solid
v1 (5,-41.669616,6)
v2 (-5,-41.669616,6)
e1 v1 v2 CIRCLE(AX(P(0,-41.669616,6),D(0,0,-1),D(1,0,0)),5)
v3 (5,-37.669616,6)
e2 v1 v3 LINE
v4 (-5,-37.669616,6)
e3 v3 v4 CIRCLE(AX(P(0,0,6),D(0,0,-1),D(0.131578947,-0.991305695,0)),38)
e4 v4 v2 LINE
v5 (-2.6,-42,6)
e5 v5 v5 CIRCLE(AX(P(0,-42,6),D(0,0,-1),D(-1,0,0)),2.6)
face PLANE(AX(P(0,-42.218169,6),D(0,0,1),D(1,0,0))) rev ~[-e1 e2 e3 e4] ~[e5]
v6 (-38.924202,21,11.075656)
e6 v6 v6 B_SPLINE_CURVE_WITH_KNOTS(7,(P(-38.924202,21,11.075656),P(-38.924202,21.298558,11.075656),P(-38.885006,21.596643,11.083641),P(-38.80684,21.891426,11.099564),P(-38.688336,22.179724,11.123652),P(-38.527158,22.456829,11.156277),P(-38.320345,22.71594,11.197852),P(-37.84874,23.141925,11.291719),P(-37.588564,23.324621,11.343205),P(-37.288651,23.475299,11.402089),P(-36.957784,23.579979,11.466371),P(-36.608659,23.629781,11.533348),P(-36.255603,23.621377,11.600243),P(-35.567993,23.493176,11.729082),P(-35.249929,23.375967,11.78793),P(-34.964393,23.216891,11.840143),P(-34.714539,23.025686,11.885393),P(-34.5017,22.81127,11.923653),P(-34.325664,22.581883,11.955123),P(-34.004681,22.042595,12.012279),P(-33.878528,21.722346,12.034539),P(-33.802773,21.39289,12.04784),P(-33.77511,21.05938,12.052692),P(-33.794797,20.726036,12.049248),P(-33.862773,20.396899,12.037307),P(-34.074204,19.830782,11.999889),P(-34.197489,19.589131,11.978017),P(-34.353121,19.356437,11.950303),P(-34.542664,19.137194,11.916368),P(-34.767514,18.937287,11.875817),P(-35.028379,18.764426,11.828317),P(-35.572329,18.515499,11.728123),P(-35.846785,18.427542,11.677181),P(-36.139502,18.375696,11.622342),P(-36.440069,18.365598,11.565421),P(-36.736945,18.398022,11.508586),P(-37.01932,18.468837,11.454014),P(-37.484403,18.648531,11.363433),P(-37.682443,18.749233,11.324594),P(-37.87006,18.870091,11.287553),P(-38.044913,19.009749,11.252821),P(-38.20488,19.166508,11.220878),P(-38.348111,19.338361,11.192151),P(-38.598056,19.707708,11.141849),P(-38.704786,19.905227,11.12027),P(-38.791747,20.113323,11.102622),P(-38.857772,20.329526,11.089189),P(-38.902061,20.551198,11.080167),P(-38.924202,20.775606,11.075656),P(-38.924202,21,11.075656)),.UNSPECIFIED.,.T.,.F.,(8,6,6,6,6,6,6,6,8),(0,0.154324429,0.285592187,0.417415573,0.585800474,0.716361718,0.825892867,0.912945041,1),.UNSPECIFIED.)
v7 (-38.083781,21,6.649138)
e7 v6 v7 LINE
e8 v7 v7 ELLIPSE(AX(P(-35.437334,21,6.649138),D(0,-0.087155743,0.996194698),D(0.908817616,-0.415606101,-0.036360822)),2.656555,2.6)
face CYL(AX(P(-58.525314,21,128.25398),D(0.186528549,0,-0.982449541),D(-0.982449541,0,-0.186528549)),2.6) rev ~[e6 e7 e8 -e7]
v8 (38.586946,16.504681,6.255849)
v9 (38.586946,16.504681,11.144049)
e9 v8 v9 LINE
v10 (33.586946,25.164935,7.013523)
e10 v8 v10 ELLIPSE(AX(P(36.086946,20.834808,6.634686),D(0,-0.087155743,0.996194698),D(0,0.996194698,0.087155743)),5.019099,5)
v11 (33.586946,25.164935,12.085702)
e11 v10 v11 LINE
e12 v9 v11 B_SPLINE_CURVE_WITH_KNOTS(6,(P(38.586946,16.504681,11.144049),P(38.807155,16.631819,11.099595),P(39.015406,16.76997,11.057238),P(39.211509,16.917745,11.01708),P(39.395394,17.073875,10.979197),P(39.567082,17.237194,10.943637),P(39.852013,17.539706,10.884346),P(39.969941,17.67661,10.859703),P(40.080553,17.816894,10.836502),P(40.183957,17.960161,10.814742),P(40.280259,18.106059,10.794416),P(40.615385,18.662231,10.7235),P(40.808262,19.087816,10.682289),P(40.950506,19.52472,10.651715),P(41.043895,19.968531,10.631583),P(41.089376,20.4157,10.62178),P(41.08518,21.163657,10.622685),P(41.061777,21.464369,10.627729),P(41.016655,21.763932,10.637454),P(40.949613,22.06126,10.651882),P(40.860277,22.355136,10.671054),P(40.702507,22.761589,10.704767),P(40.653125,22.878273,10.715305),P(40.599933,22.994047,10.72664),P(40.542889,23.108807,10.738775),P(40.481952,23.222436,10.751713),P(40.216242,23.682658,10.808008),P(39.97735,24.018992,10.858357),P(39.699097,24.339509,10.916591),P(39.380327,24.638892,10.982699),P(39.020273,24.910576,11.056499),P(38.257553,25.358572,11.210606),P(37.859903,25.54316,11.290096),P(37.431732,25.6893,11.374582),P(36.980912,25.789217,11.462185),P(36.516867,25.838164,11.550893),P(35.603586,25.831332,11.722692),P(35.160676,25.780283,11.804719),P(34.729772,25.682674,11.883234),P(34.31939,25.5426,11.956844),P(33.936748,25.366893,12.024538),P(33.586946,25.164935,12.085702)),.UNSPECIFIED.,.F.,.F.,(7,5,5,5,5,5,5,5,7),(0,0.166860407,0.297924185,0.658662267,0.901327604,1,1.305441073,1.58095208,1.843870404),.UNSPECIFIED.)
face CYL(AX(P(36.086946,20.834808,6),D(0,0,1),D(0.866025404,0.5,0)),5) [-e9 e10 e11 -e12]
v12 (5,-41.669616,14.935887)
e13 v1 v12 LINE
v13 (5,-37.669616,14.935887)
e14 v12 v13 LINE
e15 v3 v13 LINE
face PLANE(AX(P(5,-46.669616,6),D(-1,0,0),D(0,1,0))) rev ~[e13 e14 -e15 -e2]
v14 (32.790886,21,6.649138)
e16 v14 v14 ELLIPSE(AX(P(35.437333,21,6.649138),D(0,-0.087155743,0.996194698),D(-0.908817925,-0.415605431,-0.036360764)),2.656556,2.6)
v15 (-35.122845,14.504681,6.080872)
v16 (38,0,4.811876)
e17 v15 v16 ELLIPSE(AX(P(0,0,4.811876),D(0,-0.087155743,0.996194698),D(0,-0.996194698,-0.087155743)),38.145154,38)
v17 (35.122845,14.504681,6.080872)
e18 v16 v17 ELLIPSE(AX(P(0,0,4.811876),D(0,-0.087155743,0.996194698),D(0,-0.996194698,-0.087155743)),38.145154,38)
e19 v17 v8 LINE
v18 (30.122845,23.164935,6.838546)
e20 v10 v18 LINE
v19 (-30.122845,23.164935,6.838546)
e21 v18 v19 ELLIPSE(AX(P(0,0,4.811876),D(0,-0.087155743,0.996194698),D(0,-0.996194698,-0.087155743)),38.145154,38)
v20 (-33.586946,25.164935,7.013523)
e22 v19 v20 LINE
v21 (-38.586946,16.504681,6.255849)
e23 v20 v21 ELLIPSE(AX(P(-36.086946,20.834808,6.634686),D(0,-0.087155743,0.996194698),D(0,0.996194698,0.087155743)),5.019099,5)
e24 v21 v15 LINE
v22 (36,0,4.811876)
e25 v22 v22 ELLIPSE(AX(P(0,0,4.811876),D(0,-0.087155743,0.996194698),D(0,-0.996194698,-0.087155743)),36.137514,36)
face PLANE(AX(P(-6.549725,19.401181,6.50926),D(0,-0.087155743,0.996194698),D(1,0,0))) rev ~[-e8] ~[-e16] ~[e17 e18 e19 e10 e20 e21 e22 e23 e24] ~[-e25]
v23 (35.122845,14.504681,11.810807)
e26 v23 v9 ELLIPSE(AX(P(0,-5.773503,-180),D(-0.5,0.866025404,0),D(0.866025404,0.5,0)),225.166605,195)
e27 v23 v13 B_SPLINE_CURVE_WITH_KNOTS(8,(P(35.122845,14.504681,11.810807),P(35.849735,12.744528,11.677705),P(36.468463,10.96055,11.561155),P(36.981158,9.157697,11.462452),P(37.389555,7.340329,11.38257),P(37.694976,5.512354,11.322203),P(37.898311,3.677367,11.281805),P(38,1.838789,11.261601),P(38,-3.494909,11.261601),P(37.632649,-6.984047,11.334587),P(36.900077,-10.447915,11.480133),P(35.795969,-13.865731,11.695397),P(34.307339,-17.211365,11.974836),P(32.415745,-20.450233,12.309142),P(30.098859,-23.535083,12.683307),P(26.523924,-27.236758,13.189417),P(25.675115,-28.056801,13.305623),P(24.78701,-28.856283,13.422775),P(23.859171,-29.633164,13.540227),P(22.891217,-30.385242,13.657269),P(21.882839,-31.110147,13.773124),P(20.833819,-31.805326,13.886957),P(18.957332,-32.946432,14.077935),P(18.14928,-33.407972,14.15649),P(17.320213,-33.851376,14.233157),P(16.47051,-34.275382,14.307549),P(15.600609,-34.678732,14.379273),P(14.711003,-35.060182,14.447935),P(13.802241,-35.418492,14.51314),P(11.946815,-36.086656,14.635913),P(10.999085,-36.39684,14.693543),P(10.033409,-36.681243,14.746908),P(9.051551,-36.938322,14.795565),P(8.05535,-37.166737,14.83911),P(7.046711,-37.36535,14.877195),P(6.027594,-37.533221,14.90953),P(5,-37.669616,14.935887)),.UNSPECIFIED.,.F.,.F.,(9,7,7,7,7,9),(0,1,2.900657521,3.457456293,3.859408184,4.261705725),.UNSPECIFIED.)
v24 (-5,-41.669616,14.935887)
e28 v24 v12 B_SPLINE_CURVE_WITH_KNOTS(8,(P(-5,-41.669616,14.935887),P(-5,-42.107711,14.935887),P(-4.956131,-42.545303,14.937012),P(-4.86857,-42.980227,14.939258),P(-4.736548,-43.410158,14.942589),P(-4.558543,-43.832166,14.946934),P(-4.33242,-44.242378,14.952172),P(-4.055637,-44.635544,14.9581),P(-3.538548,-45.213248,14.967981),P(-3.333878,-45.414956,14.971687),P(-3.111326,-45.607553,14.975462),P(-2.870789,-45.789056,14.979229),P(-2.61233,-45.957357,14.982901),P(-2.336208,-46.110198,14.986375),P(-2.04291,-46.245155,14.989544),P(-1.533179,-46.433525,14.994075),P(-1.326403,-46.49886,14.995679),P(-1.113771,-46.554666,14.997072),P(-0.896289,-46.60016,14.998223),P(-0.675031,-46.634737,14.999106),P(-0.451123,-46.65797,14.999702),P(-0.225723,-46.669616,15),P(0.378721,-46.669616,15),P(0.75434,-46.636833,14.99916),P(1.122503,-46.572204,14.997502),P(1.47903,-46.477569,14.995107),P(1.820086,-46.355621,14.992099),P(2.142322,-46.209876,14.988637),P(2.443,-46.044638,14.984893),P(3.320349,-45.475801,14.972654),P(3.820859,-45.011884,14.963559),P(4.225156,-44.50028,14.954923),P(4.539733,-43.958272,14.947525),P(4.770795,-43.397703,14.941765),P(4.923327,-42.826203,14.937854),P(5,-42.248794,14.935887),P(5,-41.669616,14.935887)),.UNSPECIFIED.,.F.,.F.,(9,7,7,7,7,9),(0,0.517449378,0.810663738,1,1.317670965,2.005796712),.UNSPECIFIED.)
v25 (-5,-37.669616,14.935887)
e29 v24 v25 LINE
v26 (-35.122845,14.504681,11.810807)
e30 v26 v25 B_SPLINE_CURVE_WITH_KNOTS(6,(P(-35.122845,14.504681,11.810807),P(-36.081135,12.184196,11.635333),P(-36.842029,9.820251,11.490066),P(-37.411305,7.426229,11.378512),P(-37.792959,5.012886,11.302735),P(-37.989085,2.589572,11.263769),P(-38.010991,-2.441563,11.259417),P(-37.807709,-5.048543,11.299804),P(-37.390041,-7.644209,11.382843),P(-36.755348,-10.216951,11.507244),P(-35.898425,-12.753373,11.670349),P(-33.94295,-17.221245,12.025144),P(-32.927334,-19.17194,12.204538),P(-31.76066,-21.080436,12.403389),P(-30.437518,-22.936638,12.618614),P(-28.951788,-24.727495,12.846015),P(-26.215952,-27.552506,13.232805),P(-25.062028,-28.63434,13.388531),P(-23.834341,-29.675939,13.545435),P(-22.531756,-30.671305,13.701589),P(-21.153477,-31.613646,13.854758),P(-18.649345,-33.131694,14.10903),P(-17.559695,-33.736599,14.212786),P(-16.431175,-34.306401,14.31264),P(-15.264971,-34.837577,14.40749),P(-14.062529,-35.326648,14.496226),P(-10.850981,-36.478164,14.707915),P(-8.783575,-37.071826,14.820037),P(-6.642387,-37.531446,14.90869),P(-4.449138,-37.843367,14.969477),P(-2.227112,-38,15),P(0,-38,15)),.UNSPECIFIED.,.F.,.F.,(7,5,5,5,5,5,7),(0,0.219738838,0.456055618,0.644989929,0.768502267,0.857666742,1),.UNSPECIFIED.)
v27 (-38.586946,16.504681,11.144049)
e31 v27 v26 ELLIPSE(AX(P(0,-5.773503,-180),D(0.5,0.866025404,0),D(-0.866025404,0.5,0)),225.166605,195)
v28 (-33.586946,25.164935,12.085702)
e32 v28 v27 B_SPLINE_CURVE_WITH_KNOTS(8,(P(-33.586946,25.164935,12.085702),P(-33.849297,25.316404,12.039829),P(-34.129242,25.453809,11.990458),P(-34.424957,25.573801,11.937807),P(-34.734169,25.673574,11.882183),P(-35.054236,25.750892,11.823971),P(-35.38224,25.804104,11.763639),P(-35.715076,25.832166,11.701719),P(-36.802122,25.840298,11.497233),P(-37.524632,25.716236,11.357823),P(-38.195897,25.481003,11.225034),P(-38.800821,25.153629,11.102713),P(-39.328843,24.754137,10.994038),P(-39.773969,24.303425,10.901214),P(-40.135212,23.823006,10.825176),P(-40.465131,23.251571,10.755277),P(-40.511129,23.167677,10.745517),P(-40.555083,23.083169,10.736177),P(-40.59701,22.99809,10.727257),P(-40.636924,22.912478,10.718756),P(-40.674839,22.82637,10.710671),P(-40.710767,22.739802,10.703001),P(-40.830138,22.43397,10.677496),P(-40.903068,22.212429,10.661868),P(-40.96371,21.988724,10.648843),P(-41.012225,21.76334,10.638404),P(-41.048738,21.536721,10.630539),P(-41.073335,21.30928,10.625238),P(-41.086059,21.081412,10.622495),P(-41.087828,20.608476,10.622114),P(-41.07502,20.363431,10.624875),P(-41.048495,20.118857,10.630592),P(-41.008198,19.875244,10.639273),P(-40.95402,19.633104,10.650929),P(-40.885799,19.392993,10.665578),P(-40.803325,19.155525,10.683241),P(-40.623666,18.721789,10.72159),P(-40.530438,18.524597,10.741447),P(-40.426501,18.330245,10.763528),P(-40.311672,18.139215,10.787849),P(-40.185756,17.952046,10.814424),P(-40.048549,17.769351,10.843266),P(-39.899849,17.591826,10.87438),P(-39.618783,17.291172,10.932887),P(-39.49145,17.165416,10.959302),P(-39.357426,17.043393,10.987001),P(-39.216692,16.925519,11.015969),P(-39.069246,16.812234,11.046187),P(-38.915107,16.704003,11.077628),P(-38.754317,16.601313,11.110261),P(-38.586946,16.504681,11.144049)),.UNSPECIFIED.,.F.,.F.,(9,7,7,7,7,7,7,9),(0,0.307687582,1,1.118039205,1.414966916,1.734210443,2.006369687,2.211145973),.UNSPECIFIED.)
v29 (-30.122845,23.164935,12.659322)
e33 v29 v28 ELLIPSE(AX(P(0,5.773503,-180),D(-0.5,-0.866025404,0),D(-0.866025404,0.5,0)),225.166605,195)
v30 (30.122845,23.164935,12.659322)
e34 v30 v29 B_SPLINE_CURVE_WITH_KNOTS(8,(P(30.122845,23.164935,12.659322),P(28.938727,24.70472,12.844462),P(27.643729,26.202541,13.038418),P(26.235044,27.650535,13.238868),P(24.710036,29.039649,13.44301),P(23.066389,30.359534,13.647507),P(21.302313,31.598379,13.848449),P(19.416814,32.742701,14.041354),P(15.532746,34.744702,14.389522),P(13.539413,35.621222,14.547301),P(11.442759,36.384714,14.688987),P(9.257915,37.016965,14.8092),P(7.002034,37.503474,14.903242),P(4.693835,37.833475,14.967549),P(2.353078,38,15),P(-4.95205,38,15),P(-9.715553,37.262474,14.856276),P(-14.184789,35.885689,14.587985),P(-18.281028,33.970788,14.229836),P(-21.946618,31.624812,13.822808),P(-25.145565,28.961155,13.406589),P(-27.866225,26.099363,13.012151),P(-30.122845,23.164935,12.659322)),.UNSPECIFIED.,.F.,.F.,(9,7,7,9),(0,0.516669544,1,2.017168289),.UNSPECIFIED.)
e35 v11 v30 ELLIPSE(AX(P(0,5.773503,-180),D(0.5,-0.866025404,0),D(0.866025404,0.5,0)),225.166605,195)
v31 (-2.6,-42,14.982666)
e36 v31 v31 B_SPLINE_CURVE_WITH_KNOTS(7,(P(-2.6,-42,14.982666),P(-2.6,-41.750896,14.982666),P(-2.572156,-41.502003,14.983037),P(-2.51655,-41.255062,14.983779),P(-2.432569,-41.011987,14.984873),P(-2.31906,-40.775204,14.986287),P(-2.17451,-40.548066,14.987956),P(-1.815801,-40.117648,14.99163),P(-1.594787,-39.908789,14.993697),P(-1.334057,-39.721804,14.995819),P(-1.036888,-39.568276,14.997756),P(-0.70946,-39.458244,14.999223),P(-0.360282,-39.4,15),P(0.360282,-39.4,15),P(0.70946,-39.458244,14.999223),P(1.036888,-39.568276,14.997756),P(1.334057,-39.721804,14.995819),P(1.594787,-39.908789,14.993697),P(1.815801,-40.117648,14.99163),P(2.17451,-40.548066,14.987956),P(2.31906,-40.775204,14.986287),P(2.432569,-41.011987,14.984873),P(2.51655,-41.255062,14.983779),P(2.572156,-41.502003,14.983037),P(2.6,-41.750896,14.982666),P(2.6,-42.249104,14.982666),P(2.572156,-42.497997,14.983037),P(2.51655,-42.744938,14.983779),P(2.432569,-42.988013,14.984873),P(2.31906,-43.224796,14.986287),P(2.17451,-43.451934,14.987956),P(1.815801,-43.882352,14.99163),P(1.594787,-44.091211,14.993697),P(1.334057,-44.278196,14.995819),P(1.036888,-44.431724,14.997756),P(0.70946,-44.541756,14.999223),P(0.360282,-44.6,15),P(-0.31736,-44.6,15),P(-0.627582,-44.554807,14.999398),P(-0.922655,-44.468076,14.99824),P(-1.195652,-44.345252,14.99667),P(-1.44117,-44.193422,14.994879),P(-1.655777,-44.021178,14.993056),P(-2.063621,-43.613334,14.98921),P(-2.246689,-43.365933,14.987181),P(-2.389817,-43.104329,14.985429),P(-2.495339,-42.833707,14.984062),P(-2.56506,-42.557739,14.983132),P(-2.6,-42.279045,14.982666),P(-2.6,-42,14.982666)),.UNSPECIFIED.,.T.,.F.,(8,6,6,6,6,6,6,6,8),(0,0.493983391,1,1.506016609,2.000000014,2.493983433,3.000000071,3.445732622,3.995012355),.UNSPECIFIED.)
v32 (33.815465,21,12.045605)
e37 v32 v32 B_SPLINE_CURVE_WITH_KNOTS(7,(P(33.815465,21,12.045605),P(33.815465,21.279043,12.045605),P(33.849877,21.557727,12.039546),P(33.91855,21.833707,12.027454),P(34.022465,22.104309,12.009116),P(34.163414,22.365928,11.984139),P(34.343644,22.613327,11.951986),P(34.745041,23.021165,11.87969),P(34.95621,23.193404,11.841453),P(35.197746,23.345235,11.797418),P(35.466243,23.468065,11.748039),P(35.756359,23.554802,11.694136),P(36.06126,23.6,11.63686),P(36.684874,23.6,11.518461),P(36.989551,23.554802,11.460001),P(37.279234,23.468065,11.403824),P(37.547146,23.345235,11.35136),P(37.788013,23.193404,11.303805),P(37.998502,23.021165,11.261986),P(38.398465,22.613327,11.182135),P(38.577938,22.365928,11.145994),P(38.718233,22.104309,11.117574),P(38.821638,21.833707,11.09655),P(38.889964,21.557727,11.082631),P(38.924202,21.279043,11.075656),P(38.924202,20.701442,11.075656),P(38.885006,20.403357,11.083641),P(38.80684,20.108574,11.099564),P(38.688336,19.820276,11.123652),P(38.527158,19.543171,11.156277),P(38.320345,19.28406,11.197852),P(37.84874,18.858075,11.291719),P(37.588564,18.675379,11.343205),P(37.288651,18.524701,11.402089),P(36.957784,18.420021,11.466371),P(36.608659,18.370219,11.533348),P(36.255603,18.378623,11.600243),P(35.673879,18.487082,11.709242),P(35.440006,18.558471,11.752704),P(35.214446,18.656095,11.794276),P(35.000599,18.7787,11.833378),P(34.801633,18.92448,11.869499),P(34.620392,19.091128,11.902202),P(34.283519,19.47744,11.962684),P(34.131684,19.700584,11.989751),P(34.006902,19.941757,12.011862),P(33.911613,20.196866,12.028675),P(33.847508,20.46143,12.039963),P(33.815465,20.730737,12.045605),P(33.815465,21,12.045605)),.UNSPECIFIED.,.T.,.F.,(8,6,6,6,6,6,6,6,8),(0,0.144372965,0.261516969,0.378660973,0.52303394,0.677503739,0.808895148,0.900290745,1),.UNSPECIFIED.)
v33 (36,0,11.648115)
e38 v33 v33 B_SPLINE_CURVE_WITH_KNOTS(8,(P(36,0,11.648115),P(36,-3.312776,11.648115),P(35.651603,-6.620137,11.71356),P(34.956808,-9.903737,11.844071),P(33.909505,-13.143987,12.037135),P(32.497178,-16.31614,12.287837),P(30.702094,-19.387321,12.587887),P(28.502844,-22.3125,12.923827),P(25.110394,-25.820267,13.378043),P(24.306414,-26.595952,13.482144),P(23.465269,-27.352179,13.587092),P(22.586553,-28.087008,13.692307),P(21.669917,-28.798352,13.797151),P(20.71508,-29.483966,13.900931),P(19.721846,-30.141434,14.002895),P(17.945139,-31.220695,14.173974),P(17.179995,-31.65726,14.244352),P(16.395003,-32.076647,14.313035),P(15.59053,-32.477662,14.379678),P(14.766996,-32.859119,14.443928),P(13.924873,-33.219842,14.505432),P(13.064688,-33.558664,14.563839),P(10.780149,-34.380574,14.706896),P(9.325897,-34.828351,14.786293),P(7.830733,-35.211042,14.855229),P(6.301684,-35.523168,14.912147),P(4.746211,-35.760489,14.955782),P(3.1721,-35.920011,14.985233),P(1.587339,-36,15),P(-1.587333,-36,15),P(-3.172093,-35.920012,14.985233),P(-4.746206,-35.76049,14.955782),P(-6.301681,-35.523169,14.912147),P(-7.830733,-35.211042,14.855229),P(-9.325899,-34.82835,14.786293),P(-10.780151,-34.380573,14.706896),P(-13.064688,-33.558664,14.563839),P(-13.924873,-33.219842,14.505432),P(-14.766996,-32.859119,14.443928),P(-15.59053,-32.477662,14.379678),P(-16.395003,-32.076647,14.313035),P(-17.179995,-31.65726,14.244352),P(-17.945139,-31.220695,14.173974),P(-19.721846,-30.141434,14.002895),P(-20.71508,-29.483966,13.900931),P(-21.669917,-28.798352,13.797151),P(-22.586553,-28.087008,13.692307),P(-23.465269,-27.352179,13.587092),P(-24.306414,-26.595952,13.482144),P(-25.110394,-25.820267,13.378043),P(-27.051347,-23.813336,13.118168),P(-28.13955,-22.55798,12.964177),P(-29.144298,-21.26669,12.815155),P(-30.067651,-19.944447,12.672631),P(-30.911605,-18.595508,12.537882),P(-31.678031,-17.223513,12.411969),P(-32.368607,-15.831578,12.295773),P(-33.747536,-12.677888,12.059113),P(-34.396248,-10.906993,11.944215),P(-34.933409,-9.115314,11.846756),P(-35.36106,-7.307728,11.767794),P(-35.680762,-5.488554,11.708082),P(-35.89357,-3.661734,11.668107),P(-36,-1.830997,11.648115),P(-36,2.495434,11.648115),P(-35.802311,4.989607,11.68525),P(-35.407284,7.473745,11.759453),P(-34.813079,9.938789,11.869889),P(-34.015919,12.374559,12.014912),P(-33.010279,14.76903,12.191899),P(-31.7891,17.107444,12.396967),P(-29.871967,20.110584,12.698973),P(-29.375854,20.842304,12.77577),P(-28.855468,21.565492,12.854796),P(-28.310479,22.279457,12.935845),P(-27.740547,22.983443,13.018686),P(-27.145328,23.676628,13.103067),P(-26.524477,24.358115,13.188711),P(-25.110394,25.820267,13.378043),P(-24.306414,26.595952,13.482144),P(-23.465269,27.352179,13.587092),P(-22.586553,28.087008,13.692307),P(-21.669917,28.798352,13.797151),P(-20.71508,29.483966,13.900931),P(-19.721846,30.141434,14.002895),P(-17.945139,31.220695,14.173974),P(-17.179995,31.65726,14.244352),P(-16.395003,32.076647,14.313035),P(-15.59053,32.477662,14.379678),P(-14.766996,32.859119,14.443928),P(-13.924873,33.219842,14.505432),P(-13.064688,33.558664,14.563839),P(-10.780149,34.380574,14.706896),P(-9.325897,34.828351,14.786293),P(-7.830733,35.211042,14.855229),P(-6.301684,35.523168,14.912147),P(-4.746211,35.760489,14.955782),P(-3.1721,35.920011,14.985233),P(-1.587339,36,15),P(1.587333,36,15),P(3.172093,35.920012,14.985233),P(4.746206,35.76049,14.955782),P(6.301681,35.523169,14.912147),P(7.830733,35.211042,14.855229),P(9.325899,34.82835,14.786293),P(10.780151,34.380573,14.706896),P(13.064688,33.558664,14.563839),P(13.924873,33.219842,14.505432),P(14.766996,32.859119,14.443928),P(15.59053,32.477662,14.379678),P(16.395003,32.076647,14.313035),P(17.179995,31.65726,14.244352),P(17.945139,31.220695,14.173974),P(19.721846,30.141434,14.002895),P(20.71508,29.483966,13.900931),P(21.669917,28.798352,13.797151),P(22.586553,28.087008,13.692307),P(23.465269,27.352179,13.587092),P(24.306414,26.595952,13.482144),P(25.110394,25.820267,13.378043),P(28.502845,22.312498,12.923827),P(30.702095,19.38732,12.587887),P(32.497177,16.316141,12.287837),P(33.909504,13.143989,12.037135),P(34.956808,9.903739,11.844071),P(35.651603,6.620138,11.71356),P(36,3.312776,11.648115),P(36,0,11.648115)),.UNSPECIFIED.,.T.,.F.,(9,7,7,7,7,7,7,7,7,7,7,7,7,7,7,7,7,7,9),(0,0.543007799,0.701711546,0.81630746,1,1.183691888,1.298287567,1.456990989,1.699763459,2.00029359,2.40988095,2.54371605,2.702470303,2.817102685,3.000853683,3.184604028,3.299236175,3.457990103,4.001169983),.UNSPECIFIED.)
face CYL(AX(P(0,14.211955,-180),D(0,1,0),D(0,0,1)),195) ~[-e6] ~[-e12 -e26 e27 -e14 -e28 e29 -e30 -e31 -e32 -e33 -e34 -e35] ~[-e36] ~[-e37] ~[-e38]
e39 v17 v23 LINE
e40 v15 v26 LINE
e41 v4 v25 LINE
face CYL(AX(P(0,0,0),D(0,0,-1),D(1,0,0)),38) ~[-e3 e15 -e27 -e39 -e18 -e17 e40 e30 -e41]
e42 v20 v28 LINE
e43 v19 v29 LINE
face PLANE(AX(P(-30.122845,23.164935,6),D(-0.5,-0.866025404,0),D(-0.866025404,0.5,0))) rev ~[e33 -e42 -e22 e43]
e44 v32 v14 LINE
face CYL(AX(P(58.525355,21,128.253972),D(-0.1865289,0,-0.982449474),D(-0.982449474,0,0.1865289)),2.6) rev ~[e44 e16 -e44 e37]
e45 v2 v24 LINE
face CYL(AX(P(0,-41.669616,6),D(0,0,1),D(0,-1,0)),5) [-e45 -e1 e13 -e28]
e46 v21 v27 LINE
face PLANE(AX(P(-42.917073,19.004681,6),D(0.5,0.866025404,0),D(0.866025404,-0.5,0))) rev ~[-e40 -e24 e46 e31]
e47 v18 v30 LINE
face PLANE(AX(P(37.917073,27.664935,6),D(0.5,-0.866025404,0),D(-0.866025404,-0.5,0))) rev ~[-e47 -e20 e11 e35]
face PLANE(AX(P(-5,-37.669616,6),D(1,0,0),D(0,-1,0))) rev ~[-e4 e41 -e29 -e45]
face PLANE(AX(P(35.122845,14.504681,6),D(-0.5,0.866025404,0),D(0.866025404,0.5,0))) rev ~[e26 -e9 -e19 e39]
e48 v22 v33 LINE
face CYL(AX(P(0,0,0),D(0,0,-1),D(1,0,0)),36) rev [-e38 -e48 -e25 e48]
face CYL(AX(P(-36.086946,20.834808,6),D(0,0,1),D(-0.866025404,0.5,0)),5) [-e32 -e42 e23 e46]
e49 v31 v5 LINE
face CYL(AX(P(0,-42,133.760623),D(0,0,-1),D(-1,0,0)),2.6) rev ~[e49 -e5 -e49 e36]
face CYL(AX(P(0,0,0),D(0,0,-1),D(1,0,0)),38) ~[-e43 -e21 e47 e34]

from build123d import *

# Parameters (mm, degrees)
SKETCH_1_R                              = 38
SKETCH_1_R_2                            = 36
EXTRUDE_310_DEPTH                       = 15
EXTRUDE_START                           = -9
EXTRUDE_4_DEPTH                         = 9
FILLET_3_RADIUS                         = 5
FILLET_3_LENGTH                         = 9
PATTERN_CIRCULAR_4_COUNT                = 3
FILLET_3_OF_PATTERN_CIRCULAR_4_2_RADIUS = 5
FILLET_3_OF_PATTERN_CIRCULAR_4_2_LENGTH = 9
FILLET_3_OF_PATTERN_CIRCULAR_4_3_RADIUS = 5
FILLET_3_OF_PATTERN_CIRCULAR_4_3_LENGTH = 9
SKETCH_6_W                              = 176.950469939
SKETCH_6_H                              = 123.439451547
CUT_REVOLVE_861_ANGLE                   = 5
SKETCH_14_W                             = 84.084463922
SKETCH_14_H                             = 246.249240822
MM_7_D                                  = 5.2
MM_7_ON_FACE_2_D                        = 5.2
MM_7_ON_FACE_3_D                        = 5.2


with BuildPart() as part:
    # 草图1 → Extrude 310 (new body)
    with BuildSketch(Plane.XY):
        Circle(SKETCH_1_R)
        Circle(SKETCH_1_R_2, mode=Mode.SUBTRACT)
    extrude(amount=EXTRUDE_310_DEPTH)

    # 草图11 → 凸台-拉伸4 (add)
    with BuildSketch(Plane.XY.offset(15).offset(EXTRUDE_START)):
        with BuildLine():
            Line((-5, -37.669616404), (-5, -46.669616404))
            Line((-5, -46.669616404), (5, -46.669616404))
            Line((5, -46.669616404), (5, -37.669616404))
            ThreePointArc((5, -37.669616404), (0, -38), (-5, -37.669616404))
        make_face()
    extrude_4 = extrude(amount=EXTRUDE_4_DEPTH)

    # 圆角3: full round fillet: the end face becomes a half cylinder, R = half its width
    fillet_3_face = Plane((0, -46.669616404, 10.5), x_dir=(0, 0, 1), z_dir=(0, -1, 0))  # on the end face: x along it, z out of the body
    fillet_3_slab = fillet_3_face.offset(-FILLET_3_RADIUS / 2) * Box(FILLET_3_LENGTH, 2 * FILLET_3_RADIUS, FILLET_3_RADIUS, mode=Mode.PRIVATE)  # the body's end, R deep
    fillet_3_round = Plane((0, -41.669616404, 10.5), x_dir=(0, -1, 0), z_dir=(0, 0, 1)) * Cylinder(FILLET_3_RADIUS, FILLET_3_LENGTH, mode=Mode.PRIVATE)  # its axis R under the face
    add(fillet_3_slab - fillet_3_round, mode=Mode.SUBTRACT)

    # 阵列(圆周)4: 凸台-拉伸4 ×3 about axis
    pattern_circular_4_axis = Axis((0, 0, 0), (0, 0, 1))
    for i in range(1, PATTERN_CIRCULAR_4_COUNT):
        add(extrude_4.rotate(pattern_circular_4_axis, i * 360 / PATTERN_CIRCULAR_4_COUNT))

    # 圆角3 of Pattern Circular 4 2: full round fillet: the end face becomes a half cylinder, R = half its width
    fillet_3_of_pattern_circular_4_2_face = Plane((40.417073391, 23.334808202, 10.5), x_dir=(0, 0, 1), z_dir=(0.866025403784, 0.5, 0))  # on the end face: x along it, z out of the body
    fillet_3_of_pattern_circular_4_2_slab = fillet_3_of_pattern_circular_4_2_face.offset(-FILLET_3_OF_PATTERN_CIRCULAR_4_2_RADIUS / 2) * Box(FILLET_3_OF_PATTERN_CIRCULAR_4_2_LENGTH, 2 * FILLET_3_OF_PATTERN_CIRCULAR_4_2_RADIUS, FILLET_3_OF_PATTERN_CIRCULAR_4_2_RADIUS, mode=Mode.PRIVATE)  # the body's end, R deep
    fillet_3_of_pattern_circular_4_2_round = Plane((36.086946372, 20.834808202, 10.5), x_dir=(0.866025403784, 0.5, 0), z_dir=(0, 0, 1)) * Cylinder(FILLET_3_OF_PATTERN_CIRCULAR_4_2_RADIUS, FILLET_3_OF_PATTERN_CIRCULAR_4_2_LENGTH, mode=Mode.PRIVATE)  # its axis R under the face
    add(fillet_3_of_pattern_circular_4_2_slab - fillet_3_of_pattern_circular_4_2_round, mode=Mode.SUBTRACT)

    # 圆角3 of Pattern Circular 4 3: full round fillet: the end face becomes a half cylinder, R = half its width
    fillet_3_of_pattern_circular_4_3_face = Plane((-40.417073391, 23.334808202, 10.5), x_dir=(0, 0, 1), z_dir=(-0.866025403784, 0.5, 0))  # on the end face: x along it, z out of the body
    fillet_3_of_pattern_circular_4_3_slab = fillet_3_of_pattern_circular_4_3_face.offset(-FILLET_3_OF_PATTERN_CIRCULAR_4_3_RADIUS / 2) * Box(FILLET_3_OF_PATTERN_CIRCULAR_4_3_LENGTH, 2 * FILLET_3_OF_PATTERN_CIRCULAR_4_3_RADIUS, FILLET_3_OF_PATTERN_CIRCULAR_4_3_RADIUS, mode=Mode.PRIVATE)  # the body's end, R deep
    fillet_3_of_pattern_circular_4_3_round = Plane((-36.086946372, 20.834808202, 10.5), x_dir=(-0.866025403784, 0.5, 0), z_dir=(0, 0, 1)) * Cylinder(FILLET_3_OF_PATTERN_CIRCULAR_4_3_RADIUS, FILLET_3_OF_PATTERN_CIRCULAR_4_3_LENGTH, mode=Mode.PRIVATE)  # its axis R under the face
    add(fillet_3_of_pattern_circular_4_3_slab - fillet_3_of_pattern_circular_4_3_round, mode=Mode.SUBTRACT)

    # 草图6 → Cut-Revolve 861 (revolve, cut)
    with BuildSketch(Plane.XY):
        with Locations((-6.549725274, 19.685381772)):
            Rectangle(SKETCH_6_W, SKETCH_6_H)
    revolve(axis=Axis((41.8, -55, 0), (1, 0, 0)), revolution_arc=CUT_REVOLVE_861_ANGLE, mode=Mode.SUBTRACT)

    # 草图14 → Cut-Revolve 1016 (revolve, cut)
    with BuildSketch(Plane(origin=(0, 0, 0), x_dir=(0, 0, -1), z_dir=(1, 0, 0))):
        with Locations((-57.042231961, 14.211955097)):
            Rectangle(SKETCH_14_W, SKETCH_14_H)
    revolve(axis=Axis((0, 42.23348082, -180), (0, -1, 0)), mode=Mode.SUBTRACT)

    # 大小mm 暗销孔7 (through all)
    with Locations(Plane(origin=(-36.373066959, 21, 11.577660493), x_dir=(0.98244954099, 0, 0.186528548507), z_dir=(-0.186528548507, 0, 0.98244954099))):
        with Locations((0, 0)):
            Hole(MM_7_D / 2)

    # 大小mm 暗销孔7 on face 2 (through all)
    with Locations(Plane(origin=(0, -42, 15), x_dir=(1, 0, 0), z_dir=(0, 0, 1))):
        with Locations((0, 0)):
            Hole(MM_7_ON_FACE_2_D / 2)

    # 大小mm 暗销孔7 on face 3 (through all)
    with Locations(Plane(origin=(36.373066959, 21, 11.577660493), x_dir=(0.982449474222, 0, -0.186528900175), z_dir=(0.186528900175, 0, 0.982449474222))):
        with Locations((0, 0)):
            Hole(MM_7_ON_FACE_3_D / 2)


solid = part.part
